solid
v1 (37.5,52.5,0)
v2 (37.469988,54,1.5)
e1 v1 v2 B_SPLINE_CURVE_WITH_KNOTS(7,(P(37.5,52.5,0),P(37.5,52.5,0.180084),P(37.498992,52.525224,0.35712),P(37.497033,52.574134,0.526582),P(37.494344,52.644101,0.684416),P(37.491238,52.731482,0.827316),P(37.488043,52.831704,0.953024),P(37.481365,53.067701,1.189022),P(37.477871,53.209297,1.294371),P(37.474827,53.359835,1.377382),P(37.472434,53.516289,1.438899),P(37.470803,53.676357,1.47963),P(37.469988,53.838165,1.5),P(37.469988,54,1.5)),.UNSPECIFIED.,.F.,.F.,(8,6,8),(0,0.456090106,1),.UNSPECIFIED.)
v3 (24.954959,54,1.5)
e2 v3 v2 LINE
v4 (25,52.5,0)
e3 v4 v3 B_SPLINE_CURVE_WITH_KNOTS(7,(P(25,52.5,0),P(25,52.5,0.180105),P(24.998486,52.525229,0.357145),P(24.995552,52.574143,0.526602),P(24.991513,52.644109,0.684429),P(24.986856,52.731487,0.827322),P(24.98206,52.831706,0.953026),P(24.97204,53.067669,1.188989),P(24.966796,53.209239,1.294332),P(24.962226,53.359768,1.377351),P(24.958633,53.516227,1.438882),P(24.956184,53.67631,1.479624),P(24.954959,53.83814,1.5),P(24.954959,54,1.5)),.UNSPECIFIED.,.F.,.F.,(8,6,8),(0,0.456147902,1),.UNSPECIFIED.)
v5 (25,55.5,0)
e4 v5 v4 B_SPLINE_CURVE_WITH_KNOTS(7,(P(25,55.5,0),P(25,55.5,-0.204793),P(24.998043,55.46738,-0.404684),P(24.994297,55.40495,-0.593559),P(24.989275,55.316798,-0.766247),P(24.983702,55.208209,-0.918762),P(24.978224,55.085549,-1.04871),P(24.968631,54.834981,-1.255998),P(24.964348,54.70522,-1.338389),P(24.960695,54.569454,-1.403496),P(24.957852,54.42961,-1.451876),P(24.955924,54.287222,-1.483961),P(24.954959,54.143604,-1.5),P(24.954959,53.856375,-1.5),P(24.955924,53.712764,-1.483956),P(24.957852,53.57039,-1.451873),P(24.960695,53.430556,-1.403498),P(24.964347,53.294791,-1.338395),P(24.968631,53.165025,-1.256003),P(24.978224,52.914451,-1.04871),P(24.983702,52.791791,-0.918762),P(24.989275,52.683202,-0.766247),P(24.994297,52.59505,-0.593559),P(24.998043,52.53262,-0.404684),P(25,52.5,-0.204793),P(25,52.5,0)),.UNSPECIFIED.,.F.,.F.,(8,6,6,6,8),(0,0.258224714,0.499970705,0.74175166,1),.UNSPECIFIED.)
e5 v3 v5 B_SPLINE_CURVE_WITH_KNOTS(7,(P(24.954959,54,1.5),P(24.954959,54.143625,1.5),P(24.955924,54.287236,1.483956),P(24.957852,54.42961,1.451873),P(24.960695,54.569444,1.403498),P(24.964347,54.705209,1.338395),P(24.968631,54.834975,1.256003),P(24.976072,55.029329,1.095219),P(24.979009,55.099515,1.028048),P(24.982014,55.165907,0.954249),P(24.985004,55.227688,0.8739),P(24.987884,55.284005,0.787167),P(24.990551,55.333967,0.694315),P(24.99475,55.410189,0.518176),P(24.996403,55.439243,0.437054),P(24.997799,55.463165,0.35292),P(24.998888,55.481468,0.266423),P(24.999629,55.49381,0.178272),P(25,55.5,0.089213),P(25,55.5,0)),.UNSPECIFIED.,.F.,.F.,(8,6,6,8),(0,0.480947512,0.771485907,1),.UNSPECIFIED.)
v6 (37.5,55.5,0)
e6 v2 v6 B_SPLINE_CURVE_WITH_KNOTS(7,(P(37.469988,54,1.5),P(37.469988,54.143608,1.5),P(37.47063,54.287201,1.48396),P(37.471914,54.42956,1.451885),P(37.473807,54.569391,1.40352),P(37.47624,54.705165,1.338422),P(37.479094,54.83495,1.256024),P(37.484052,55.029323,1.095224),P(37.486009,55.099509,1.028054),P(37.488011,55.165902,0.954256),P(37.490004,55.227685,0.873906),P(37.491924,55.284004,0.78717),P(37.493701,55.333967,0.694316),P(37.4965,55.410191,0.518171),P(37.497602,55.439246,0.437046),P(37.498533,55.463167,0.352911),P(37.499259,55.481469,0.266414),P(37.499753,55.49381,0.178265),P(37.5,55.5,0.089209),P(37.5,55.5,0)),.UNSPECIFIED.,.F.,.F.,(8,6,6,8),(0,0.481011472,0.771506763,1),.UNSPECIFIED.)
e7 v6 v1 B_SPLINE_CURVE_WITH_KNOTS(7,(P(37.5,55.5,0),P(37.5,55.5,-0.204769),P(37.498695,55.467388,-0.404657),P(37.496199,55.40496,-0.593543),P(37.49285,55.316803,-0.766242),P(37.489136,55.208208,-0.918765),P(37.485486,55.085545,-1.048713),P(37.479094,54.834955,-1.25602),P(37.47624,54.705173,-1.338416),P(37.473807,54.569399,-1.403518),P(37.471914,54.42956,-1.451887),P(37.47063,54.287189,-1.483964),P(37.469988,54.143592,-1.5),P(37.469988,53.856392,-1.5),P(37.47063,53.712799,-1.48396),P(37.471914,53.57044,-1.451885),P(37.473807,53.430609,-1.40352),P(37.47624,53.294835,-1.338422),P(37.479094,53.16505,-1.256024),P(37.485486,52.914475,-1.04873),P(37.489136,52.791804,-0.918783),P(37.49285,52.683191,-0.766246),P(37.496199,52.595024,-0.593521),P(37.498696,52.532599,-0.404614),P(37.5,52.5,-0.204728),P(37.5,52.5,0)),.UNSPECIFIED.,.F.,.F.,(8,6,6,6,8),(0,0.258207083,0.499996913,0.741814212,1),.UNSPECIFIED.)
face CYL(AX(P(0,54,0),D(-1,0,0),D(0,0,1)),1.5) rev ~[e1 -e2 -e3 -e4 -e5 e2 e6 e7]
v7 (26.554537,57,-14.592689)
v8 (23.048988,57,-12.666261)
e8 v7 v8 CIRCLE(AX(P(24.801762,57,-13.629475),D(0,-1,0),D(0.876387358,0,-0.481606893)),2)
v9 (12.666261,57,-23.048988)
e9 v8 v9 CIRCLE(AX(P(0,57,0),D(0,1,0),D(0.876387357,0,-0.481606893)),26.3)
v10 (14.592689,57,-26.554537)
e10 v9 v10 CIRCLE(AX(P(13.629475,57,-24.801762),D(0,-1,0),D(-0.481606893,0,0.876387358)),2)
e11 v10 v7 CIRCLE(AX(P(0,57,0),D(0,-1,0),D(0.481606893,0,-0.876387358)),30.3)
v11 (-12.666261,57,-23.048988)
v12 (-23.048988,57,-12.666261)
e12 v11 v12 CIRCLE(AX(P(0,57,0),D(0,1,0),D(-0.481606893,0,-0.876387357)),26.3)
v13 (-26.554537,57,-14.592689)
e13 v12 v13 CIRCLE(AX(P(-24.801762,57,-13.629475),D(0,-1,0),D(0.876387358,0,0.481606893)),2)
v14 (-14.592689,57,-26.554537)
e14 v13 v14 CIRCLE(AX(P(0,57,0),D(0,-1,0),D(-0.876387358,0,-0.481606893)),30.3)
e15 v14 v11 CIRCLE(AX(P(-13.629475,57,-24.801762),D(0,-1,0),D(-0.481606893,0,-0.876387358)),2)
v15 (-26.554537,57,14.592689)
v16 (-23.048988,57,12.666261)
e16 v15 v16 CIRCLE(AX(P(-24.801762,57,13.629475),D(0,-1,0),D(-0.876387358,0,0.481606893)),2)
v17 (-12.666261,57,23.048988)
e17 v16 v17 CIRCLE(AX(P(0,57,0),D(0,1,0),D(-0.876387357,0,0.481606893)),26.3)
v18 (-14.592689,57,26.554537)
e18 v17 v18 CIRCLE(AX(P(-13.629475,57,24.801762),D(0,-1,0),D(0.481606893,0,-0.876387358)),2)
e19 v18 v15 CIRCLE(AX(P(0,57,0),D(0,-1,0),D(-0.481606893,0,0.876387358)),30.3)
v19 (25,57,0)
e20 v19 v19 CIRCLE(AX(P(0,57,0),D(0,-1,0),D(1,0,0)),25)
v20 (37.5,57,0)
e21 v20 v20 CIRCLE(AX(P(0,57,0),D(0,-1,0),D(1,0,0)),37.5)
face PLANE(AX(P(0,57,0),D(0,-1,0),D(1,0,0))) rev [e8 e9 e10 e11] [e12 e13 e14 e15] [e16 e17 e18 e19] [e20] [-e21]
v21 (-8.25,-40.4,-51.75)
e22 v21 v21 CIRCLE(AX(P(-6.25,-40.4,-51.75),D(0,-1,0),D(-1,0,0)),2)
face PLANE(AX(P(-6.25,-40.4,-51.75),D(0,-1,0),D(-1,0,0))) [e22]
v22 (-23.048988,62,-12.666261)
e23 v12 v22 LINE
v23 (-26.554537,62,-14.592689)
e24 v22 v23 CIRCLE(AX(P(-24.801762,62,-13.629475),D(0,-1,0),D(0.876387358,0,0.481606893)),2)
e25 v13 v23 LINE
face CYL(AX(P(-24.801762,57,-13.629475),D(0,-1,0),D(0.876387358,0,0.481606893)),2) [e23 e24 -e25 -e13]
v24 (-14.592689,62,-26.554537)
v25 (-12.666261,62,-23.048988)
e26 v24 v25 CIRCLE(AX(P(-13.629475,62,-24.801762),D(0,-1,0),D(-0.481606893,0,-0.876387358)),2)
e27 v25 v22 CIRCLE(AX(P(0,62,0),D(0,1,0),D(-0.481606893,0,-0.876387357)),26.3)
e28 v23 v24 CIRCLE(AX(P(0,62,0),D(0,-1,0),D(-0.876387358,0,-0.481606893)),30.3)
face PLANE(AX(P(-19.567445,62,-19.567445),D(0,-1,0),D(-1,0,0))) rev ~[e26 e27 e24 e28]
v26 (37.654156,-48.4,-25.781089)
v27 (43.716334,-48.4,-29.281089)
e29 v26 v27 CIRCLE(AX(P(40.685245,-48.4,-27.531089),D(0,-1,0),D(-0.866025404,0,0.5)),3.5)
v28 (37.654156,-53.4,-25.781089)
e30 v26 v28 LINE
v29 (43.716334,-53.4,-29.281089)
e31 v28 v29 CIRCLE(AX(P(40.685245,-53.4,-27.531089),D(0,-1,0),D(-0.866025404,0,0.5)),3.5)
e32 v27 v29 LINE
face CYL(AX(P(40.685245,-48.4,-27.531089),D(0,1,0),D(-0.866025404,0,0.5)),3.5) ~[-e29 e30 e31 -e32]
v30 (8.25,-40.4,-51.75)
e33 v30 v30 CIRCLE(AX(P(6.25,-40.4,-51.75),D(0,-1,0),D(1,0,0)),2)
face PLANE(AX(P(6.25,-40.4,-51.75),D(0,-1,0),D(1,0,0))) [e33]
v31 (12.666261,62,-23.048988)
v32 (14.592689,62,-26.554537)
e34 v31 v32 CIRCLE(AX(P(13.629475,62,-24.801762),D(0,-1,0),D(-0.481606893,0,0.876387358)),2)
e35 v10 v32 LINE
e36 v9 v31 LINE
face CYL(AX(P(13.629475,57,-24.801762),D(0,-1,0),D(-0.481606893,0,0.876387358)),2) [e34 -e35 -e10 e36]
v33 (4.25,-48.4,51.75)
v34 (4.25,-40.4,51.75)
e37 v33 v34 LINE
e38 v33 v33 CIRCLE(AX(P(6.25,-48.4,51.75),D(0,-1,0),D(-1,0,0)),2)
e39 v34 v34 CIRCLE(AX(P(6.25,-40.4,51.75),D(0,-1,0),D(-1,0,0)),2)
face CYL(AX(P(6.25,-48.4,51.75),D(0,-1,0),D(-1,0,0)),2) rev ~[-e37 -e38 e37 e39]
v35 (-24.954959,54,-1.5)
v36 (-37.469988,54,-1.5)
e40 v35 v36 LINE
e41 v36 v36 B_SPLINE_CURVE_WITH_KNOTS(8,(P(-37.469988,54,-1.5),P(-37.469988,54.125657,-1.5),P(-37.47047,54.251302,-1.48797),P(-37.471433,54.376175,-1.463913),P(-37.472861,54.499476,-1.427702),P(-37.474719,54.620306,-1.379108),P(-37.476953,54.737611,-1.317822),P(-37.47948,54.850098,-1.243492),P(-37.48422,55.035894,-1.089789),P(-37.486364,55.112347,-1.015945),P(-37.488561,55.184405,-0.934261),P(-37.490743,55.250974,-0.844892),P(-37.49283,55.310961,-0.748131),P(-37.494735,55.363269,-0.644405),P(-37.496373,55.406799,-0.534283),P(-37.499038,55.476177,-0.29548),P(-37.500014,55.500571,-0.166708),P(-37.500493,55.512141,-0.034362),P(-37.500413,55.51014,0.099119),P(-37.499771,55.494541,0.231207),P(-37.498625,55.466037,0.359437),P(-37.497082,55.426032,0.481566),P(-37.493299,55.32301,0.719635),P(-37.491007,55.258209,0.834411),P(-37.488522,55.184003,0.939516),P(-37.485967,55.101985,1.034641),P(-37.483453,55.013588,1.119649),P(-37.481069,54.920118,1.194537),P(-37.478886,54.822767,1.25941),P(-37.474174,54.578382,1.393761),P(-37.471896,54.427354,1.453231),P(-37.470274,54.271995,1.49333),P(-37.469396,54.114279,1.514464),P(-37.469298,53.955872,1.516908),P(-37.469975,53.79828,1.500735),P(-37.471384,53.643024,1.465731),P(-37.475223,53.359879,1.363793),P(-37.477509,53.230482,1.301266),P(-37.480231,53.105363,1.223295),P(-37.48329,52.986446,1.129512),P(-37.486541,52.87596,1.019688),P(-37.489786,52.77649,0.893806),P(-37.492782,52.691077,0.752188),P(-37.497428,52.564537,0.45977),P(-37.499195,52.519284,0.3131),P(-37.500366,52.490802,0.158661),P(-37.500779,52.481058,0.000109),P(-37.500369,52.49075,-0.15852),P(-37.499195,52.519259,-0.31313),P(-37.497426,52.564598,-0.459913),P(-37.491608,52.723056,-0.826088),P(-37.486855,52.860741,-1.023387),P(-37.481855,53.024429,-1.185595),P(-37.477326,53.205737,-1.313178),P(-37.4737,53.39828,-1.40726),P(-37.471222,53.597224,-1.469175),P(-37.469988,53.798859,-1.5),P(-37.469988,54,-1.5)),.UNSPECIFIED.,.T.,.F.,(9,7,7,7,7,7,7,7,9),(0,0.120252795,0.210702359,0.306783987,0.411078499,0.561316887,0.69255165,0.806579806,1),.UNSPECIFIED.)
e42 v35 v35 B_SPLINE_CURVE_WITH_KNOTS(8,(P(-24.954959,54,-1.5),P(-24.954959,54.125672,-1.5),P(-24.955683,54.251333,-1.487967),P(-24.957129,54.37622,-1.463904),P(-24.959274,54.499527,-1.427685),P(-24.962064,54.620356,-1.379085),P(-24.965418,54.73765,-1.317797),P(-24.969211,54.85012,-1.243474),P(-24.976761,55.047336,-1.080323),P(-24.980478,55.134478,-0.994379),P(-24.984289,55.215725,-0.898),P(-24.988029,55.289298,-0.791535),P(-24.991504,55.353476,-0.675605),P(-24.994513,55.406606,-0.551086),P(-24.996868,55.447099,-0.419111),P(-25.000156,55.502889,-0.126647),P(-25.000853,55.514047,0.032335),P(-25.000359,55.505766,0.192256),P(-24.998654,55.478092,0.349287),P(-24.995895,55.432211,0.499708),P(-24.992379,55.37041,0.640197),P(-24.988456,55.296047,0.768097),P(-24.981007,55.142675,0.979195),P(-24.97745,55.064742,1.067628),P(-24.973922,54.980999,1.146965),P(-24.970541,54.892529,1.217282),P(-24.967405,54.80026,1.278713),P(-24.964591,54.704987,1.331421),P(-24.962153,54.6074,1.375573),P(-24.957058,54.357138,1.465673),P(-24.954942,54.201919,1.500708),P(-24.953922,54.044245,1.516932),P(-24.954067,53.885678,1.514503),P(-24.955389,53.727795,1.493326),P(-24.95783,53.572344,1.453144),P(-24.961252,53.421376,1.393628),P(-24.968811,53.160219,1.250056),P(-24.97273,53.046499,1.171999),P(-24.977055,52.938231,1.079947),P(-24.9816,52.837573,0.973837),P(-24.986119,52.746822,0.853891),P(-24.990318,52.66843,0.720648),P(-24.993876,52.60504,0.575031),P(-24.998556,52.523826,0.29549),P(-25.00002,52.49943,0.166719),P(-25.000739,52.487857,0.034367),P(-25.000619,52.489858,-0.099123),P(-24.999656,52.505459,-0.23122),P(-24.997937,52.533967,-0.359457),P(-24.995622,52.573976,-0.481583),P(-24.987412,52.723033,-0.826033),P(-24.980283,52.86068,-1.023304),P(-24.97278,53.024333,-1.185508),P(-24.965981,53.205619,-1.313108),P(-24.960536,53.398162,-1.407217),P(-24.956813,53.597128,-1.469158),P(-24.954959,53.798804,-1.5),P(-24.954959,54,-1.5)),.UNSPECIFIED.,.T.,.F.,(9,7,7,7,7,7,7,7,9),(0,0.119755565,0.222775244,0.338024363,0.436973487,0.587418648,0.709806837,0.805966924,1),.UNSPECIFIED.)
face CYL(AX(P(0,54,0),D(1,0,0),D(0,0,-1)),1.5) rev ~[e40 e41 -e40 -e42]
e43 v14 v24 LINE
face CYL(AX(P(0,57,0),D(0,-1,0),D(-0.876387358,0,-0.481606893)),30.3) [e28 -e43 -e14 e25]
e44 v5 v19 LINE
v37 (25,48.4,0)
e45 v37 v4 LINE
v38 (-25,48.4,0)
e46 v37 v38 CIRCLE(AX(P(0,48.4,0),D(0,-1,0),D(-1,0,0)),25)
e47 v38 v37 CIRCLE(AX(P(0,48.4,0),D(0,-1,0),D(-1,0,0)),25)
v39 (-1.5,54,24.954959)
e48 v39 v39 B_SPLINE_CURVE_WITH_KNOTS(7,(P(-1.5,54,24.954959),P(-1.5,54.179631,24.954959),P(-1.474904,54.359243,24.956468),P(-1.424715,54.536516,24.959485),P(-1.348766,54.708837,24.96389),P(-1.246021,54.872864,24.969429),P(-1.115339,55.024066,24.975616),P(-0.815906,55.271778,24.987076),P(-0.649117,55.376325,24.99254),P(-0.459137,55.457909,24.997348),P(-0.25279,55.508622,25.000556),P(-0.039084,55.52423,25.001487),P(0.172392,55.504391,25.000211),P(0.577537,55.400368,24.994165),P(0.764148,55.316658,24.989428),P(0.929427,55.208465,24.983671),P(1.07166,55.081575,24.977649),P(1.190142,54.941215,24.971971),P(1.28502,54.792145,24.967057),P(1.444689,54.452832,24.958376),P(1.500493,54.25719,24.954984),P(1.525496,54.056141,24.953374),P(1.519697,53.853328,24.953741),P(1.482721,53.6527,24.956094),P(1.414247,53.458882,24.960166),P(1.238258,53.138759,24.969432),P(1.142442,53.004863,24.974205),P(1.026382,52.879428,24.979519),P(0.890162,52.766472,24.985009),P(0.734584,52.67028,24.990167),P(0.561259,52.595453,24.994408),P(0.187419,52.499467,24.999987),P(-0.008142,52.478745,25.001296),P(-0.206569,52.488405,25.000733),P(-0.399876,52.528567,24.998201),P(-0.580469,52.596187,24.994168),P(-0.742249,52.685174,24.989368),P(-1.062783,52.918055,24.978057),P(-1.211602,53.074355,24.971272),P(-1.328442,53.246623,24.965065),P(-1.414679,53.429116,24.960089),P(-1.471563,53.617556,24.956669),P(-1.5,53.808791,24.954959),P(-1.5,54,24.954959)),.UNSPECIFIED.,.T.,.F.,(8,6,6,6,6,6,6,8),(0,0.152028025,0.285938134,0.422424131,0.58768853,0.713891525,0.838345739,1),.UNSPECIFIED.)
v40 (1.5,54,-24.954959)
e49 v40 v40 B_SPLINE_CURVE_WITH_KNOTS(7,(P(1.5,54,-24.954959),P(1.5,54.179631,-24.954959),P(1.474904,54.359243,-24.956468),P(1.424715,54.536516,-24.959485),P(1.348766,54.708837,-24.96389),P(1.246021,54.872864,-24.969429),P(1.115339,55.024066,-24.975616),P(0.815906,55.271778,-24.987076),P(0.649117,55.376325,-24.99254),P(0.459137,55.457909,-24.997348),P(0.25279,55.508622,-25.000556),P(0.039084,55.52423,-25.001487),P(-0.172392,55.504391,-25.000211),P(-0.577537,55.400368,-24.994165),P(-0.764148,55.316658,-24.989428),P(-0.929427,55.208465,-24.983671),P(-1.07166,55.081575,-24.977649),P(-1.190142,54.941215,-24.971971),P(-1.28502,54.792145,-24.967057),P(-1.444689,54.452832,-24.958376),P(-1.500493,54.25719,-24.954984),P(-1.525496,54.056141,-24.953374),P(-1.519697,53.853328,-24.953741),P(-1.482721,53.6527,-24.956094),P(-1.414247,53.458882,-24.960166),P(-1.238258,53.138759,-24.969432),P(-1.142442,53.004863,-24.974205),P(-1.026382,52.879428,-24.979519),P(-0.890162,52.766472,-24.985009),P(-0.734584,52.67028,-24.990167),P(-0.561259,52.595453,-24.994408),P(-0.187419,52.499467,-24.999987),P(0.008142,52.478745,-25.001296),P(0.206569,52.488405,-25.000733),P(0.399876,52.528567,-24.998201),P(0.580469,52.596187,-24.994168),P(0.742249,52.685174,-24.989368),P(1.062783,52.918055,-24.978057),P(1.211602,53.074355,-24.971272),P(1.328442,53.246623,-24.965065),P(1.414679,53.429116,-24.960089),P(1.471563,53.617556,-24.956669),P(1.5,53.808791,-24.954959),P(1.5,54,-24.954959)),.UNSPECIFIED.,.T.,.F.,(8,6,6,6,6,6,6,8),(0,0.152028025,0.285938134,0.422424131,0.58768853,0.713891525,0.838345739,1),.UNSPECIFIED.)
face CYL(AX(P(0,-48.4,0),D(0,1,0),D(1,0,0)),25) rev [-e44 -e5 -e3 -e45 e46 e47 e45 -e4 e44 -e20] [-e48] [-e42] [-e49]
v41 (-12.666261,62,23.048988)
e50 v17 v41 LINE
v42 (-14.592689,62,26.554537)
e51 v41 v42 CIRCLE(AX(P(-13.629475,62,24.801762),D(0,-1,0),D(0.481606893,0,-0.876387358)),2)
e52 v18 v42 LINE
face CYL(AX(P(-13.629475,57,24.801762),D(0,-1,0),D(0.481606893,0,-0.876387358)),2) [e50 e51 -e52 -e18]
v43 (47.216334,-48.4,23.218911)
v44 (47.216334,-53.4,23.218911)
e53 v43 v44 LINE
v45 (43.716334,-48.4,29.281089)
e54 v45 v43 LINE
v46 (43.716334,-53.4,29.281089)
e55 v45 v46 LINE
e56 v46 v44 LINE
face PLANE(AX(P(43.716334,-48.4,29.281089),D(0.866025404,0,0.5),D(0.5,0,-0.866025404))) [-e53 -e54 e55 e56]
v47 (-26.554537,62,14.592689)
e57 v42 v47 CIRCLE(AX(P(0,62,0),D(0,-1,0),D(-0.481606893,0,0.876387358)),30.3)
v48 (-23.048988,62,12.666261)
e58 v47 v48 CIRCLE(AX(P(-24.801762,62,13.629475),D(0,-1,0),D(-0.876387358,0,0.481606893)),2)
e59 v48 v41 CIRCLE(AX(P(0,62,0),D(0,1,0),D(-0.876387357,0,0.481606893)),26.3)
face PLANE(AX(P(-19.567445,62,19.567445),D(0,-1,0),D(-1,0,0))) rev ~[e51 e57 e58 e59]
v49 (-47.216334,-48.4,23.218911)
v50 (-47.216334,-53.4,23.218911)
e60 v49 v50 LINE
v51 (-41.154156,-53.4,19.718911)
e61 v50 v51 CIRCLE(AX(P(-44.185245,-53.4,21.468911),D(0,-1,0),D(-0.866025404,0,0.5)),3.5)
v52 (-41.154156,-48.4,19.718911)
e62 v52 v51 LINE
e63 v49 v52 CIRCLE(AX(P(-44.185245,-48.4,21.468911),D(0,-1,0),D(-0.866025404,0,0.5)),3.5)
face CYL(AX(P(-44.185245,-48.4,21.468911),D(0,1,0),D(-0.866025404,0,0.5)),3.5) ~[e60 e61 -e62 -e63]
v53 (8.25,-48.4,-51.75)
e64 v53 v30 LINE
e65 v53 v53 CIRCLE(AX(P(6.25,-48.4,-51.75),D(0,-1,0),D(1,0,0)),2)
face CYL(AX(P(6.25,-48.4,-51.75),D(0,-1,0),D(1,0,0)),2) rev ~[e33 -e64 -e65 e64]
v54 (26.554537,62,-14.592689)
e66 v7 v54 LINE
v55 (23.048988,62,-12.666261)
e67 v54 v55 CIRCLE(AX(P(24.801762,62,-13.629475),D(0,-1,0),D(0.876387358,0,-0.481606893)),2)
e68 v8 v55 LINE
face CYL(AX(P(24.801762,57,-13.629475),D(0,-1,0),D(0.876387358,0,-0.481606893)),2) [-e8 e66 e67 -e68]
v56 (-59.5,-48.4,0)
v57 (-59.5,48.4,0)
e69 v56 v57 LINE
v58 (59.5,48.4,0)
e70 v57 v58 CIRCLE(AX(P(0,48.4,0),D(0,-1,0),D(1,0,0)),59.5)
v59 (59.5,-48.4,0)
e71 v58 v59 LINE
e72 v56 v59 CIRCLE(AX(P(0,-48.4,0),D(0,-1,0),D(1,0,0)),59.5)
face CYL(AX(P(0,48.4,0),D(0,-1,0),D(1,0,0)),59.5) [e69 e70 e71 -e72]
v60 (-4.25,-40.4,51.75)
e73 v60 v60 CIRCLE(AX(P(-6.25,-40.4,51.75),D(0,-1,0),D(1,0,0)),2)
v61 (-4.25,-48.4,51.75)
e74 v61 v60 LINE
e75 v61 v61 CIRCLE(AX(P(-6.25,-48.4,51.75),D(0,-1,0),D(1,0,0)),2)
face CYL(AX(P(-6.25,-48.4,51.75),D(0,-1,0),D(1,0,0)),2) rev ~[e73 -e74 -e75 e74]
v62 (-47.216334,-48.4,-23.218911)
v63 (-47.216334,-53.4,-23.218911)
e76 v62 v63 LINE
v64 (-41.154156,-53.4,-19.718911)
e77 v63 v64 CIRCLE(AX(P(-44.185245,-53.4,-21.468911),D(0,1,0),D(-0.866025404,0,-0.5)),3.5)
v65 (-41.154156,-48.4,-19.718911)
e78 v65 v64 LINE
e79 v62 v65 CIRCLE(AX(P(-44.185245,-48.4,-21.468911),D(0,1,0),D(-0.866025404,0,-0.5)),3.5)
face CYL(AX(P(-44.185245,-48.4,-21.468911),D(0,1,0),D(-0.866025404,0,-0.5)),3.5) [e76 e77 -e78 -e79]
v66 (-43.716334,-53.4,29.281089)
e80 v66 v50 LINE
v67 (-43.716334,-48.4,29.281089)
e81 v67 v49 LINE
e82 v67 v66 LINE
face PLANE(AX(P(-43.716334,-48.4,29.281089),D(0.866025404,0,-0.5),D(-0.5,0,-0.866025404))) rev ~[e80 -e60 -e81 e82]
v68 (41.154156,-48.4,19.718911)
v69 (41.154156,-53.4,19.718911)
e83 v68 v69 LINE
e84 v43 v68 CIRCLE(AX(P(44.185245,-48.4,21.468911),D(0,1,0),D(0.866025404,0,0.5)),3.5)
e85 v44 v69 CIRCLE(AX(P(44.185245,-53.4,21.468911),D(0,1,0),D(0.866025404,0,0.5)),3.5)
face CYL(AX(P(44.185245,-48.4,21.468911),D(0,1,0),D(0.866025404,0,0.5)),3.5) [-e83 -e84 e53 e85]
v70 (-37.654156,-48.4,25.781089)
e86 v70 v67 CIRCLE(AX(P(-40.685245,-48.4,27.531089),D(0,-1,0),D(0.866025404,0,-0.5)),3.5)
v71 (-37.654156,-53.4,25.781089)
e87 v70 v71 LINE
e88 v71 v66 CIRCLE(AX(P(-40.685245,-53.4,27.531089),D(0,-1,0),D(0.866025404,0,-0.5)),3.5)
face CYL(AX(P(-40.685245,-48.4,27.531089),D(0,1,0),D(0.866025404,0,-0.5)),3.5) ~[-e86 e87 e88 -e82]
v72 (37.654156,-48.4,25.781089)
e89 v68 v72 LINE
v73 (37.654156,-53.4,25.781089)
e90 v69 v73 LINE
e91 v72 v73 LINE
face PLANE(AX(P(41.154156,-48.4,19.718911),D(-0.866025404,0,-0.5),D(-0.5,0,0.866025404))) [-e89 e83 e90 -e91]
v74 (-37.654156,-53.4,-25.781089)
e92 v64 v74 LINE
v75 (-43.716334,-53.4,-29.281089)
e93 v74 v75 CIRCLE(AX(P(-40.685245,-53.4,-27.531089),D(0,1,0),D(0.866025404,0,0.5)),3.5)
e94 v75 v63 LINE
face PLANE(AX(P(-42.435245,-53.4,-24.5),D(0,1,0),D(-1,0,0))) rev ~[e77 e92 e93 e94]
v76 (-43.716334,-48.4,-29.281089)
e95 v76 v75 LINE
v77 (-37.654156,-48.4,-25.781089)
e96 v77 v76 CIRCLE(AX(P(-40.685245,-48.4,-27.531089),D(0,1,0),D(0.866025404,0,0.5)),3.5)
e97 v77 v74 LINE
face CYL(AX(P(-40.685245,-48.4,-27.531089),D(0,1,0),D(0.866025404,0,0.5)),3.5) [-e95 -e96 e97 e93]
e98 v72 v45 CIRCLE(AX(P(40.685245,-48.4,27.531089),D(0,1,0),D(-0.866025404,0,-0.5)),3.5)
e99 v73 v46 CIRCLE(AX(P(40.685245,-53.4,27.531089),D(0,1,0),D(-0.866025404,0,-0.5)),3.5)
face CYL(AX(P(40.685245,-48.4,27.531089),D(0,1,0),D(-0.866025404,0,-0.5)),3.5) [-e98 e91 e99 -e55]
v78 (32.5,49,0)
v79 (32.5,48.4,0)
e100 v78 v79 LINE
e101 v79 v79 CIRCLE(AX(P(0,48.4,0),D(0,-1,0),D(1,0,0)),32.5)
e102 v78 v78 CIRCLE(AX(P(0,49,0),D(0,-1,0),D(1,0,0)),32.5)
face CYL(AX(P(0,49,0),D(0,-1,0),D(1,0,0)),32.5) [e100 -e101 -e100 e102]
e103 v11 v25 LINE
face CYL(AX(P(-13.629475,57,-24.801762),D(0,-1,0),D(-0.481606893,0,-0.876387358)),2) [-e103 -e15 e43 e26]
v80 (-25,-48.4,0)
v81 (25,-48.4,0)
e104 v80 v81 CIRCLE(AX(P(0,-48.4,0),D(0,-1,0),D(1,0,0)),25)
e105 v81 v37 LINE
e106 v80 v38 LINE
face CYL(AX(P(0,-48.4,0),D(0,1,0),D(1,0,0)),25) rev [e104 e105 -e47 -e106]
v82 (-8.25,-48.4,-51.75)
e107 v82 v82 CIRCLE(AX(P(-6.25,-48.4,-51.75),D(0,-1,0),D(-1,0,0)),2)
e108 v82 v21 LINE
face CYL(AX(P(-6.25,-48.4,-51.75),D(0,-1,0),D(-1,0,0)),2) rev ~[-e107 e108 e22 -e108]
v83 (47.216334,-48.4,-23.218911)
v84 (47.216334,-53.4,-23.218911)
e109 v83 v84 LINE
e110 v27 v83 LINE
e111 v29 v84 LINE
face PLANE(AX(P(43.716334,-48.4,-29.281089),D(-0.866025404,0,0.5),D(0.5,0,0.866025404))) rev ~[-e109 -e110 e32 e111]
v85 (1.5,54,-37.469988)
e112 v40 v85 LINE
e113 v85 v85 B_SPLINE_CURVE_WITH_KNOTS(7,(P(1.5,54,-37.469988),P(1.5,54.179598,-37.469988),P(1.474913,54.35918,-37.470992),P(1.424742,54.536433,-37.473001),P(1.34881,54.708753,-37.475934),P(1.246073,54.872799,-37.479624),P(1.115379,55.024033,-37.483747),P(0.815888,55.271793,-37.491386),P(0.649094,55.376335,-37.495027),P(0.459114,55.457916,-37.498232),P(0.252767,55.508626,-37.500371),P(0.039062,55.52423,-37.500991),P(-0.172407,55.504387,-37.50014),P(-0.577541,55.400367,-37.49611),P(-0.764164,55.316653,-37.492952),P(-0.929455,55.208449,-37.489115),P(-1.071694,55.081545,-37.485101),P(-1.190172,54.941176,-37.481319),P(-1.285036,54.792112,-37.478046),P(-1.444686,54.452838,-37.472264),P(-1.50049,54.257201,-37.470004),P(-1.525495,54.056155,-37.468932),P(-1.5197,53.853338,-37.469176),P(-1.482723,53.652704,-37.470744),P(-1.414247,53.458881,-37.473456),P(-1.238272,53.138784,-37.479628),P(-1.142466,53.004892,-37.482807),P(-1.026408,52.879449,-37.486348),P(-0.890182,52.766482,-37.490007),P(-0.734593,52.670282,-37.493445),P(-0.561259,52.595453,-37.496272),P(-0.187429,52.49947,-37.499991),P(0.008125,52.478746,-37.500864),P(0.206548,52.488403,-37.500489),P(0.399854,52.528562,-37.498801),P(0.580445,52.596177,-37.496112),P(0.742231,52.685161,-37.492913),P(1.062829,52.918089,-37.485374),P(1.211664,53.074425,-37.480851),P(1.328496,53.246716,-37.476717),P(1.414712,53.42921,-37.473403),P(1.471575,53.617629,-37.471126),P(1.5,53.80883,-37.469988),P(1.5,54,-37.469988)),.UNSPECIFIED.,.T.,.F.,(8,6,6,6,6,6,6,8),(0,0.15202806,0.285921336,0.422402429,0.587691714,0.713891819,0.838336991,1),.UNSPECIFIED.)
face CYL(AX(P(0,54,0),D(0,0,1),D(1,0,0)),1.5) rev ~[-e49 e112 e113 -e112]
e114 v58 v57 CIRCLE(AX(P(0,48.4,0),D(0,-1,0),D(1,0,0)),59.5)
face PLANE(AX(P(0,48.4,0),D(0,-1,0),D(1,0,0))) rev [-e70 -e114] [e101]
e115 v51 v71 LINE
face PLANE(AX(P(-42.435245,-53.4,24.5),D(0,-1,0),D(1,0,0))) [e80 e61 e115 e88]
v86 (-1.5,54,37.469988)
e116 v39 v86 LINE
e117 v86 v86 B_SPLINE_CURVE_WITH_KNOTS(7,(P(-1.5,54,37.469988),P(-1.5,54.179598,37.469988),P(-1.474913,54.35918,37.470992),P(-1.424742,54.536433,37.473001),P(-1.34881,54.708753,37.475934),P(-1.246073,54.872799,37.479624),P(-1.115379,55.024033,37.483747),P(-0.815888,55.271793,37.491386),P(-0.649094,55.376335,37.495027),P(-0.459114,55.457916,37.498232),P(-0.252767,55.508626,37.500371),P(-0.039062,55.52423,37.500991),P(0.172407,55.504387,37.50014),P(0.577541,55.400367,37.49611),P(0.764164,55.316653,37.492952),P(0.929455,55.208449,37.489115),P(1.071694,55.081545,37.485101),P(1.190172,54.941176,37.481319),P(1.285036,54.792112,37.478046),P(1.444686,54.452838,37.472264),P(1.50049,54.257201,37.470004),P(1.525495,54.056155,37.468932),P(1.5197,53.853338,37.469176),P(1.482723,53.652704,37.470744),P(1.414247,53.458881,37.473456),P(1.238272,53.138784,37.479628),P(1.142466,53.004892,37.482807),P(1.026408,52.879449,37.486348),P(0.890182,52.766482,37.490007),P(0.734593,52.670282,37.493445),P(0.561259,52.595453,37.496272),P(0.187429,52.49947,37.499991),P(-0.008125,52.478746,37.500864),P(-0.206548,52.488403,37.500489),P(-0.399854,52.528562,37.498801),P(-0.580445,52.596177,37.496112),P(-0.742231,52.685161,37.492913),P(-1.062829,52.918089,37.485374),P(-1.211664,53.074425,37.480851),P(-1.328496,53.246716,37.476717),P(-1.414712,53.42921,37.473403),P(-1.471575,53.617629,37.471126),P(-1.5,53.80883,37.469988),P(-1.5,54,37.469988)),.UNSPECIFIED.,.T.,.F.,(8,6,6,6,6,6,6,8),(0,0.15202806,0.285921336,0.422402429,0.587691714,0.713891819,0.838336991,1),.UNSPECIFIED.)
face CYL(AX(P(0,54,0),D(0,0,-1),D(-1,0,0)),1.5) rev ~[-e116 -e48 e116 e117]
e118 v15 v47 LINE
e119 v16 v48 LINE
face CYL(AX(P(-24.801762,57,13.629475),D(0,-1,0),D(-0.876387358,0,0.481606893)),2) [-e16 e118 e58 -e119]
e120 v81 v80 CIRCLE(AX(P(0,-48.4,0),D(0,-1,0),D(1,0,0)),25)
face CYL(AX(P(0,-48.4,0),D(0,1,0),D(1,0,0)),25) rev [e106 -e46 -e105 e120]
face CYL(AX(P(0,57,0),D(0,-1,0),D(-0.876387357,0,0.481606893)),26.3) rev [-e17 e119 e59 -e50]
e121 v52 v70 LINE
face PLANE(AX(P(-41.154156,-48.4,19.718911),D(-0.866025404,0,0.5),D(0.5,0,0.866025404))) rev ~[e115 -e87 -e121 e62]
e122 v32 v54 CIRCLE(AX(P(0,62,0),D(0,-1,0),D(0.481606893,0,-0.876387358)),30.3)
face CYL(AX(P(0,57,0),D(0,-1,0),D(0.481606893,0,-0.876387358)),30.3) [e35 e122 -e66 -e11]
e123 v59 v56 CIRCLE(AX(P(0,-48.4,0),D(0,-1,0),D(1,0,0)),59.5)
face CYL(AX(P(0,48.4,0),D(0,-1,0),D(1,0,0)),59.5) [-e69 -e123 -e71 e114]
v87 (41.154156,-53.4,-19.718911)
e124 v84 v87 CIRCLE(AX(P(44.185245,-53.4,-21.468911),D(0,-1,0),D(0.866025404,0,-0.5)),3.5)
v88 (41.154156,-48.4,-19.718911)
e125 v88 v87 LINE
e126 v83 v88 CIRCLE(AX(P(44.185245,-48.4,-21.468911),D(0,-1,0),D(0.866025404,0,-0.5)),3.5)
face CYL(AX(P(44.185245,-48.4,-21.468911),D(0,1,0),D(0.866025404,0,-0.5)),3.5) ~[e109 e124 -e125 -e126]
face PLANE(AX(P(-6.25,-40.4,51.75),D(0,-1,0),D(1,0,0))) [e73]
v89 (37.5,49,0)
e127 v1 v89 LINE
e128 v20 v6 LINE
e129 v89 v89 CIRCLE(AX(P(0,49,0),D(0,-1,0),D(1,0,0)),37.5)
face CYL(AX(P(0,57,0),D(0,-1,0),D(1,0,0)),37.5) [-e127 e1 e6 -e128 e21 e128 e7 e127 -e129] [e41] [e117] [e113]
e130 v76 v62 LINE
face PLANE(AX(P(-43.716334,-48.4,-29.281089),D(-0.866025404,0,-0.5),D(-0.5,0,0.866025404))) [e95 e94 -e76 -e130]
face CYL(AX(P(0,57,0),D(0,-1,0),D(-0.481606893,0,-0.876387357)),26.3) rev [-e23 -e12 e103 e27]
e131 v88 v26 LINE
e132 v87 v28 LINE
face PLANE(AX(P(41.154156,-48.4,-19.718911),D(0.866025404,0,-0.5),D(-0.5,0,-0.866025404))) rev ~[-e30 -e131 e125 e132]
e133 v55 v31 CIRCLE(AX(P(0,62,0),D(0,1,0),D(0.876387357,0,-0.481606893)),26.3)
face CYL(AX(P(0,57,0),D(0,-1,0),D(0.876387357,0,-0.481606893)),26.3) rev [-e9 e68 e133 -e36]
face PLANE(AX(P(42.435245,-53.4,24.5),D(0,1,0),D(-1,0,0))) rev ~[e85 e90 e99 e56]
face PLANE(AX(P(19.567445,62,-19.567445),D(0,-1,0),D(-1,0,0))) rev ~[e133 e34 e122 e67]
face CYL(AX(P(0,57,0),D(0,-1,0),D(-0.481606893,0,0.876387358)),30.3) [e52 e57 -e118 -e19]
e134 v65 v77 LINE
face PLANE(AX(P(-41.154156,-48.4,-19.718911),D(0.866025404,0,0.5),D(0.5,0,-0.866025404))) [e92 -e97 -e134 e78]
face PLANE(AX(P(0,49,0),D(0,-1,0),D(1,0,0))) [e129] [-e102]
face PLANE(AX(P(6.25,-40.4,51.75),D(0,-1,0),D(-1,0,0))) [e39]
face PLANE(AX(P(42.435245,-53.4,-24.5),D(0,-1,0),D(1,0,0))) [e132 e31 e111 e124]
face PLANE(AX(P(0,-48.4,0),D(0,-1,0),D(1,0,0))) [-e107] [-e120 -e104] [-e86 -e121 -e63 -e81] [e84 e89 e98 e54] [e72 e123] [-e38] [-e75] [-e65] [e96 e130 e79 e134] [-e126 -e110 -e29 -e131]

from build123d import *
from build123d.topology import SkipClean

# Parameters (mm, degrees)
SKETCH_1_W               = 34.5
SKETCH_1_H               = 96.8
SKETCH_3_R               = 1.5
CUT_EXTRUDE_1_DEPTH      = 102.634147805
PATTERN_CIRCULAR_1_COUNT = 4
EXTRUDE_2_DEPTH          = 5
EXTRUDE_3_DEPTH          = 5
SKETCH_4_R               = 2
CUT_EXTRUDE_2_DEPTH      = 8


with BuildPart() as part:
    # 草图1 → 旋转1 (revolve)
    with SkipClean():  # the faces are left unmerged after this step: merging them gives an invalid solid
        with BuildSketch(Plane.XY, mode=Mode.PRIVATE) as revolve_1_sk:
            with Locations((42.25, 0)):
                Rectangle(SKETCH_1_W, SKETCH_1_H)
            Polygon((-25, 57), (-37.5, 57), (-37.5, 49), (-32.5, 49), (-32.5, 48.4), (-59.5, 48.4), (-59.5, -48.4), (-25, -48.4), align=None)
        revolve(revolve_1_sk.sketch.rotate(Axis((0, 57, 0), (0, -1, 0)), 180), axis=Axis((0, 57, 0), (0, -1, 0)))

    # 草图3 → 切除-拉伸1 (cut, through all)
    with SkipClean():  # the faces are left unmerged after this step: merging them gives an invalid solid
        with BuildSketch(Plane.XY):
            with Locations((0, 54)):
                Circle(SKETCH_3_R)
        cut_extrude_1 = extrude(amount=-CUT_EXTRUDE_1_DEPTH, mode=Mode.SUBTRACT)

    # 阵列(圆周)1: 切除-拉伸1 ×4 about axis
    with SkipClean():  # the faces are left unmerged after this step: merging them gives an invalid solid
        pattern_circular_1_axis = Axis((0, 57, 0), (0, 1, 0))
        for i in range(1, PATTERN_CIRCULAR_1_COUNT):
            add(cut_extrude_1.rotate(pattern_circular_1_axis, i * 360 / PATTERN_CIRCULAR_1_COUNT), mode=Mode.SUBTRACT)

    # 草图5 → 凸台-拉伸2 (add)
    with SkipClean():  # the faces are left unmerged after this step: merging them gives an invalid solid
        with BuildSketch(Plane(origin=(0, 57, 0), x_dir=(1, 0, 0), z_dir=(0, 1, 0))):
            with BuildLine():
                ThreePointArc((14.592688862, 26.554536934), (21.42533547, 21.42533547), (26.554536934, 14.592688862))
                ThreePointArc((26.554536934, 14.592688862), (25.764976005, 11.876700361), (23.048987504, 12.66626129))
                ThreePointArc((23.048987504, 12.66626129), (18.596908345, 18.596908345), (12.66626129, 23.048987504))
                ThreePointArc((12.66626129, 23.048987504), (11.876700361, 25.764976005), (14.592688862, 26.554536934))
            make_face()
            with BuildLine():
                ThreePointArc((-26.554536934, -14.592688862), (-25.764976005, -11.876700361), (-23.048987504, -12.66626129))
                ThreePointArc((-23.048987504, -12.66626129), (-18.596908345, -18.596908345), (-12.66626129, -23.048987504))
                ThreePointArc((-12.66626129, -23.048987504), (-11.876700361, -25.764976005), (-14.592688862, -26.554536934))
                ThreePointArc((-14.592688862, -26.554536934), (-21.42533547, -21.42533547), (-26.554536934, -14.592688862))
            make_face()
            with BuildLine():
                ThreePointArc((-14.592688862, 26.554536934), (-11.876700361, 25.764976005), (-12.66626129, 23.048987504))
                ThreePointArc((-12.66626129, 23.048987504), (-18.596908345, 18.596908345), (-23.048987504, 12.66626129))
                ThreePointArc((-23.048987504, 12.66626129), (-25.764976005, 11.876700361), (-26.554536934, 14.592688862))
                ThreePointArc((-26.554536934, 14.592688862), (-21.42533547, 21.42533547), (-14.592688862, 26.554536934))
            make_face()
        extrude(amount=EXTRUDE_2_DEPTH)

    # 草图6 → 凸台-拉伸3 (add)
    with SkipClean():  # the faces are left unmerged after this step: merging them gives an invalid solid
        with BuildSketch(Plane.XZ.offset(48.4)):
            with BuildLine():
                Line((43.716333699, 29.281088913), (47.216333699, 23.218911087))
                ThreePointArc((47.216333699, 23.218911087), (45.935244785, 18.437822174), (41.154155872, 19.718911087))
                Line((41.154155872, 19.718911087), (37.654155872, 25.781088913))
                ThreePointArc((37.654155872, 25.781088913), (38.935244785, 30.562177826), (43.716333699, 29.281088913))
            make_face()
            with BuildLine():
                Line((43.716333699, -29.281088913), (47.216333699, -23.218911087))
                ThreePointArc((47.216333699, -23.218911087), (45.935244785, -18.437822174), (41.154155872, -19.718911087))
                Line((41.154155872, -19.718911087), (37.654155872, -25.781088913))
                ThreePointArc((37.654155872, -25.781088913), (38.935244785, -30.562177826), (43.716333699, -29.281088913))
            make_face()
            with BuildLine():
                Line((-43.716333699, -29.281088913), (-47.216333699, -23.218911087))
                ThreePointArc((-47.216333699, -23.218911087), (-45.935244785, -18.437822174), (-41.154155872, -19.718911087))
                Line((-41.154155872, -19.718911087), (-37.654155872, -25.781088913))
                ThreePointArc((-37.654155872, -25.781088913), (-38.935244785, -30.562177826), (-43.716333699, -29.281088913))
            make_face()
            with BuildLine():
                Line((-43.716333699, 29.281088913), (-47.216333699, 23.218911087))
                ThreePointArc((-47.216333699, 23.218911087), (-45.935244785, 18.437822174), (-41.154155872, 19.718911087))
                Line((-41.154155872, 19.718911087), (-37.654155872, 25.781088913))
                ThreePointArc((-37.654155872, 25.781088913), (-38.935244785, 30.562177826), (-43.716333699, 29.281088913))
            make_face()
        extrude(amount=EXTRUDE_3_DEPTH)

    # 草图4 → 切除-拉伸2 (cut)
    with SkipClean():  # the faces are left unmerged after this step: merging them gives an invalid solid
        with BuildSketch(Plane.XZ.offset(48.4)):
            with Locations((-6.25, 51.75)):
                Circle(SKETCH_4_R)
            with Locations(Location((6.25, 51.75, 0), (0, 0, 180))):
                Circle(SKETCH_4_R)
            with Locations(Location((-6.25, -51.75, 0), (0, 0, 180))):
                Circle(SKETCH_4_R)
            with Locations((6.25, -51.75)):
                Circle(SKETCH_4_R)
        extrude(amount=-CUT_EXTRUDE_2_DEPTH, mode=Mode.SUBTRACT)


solid = part.part
